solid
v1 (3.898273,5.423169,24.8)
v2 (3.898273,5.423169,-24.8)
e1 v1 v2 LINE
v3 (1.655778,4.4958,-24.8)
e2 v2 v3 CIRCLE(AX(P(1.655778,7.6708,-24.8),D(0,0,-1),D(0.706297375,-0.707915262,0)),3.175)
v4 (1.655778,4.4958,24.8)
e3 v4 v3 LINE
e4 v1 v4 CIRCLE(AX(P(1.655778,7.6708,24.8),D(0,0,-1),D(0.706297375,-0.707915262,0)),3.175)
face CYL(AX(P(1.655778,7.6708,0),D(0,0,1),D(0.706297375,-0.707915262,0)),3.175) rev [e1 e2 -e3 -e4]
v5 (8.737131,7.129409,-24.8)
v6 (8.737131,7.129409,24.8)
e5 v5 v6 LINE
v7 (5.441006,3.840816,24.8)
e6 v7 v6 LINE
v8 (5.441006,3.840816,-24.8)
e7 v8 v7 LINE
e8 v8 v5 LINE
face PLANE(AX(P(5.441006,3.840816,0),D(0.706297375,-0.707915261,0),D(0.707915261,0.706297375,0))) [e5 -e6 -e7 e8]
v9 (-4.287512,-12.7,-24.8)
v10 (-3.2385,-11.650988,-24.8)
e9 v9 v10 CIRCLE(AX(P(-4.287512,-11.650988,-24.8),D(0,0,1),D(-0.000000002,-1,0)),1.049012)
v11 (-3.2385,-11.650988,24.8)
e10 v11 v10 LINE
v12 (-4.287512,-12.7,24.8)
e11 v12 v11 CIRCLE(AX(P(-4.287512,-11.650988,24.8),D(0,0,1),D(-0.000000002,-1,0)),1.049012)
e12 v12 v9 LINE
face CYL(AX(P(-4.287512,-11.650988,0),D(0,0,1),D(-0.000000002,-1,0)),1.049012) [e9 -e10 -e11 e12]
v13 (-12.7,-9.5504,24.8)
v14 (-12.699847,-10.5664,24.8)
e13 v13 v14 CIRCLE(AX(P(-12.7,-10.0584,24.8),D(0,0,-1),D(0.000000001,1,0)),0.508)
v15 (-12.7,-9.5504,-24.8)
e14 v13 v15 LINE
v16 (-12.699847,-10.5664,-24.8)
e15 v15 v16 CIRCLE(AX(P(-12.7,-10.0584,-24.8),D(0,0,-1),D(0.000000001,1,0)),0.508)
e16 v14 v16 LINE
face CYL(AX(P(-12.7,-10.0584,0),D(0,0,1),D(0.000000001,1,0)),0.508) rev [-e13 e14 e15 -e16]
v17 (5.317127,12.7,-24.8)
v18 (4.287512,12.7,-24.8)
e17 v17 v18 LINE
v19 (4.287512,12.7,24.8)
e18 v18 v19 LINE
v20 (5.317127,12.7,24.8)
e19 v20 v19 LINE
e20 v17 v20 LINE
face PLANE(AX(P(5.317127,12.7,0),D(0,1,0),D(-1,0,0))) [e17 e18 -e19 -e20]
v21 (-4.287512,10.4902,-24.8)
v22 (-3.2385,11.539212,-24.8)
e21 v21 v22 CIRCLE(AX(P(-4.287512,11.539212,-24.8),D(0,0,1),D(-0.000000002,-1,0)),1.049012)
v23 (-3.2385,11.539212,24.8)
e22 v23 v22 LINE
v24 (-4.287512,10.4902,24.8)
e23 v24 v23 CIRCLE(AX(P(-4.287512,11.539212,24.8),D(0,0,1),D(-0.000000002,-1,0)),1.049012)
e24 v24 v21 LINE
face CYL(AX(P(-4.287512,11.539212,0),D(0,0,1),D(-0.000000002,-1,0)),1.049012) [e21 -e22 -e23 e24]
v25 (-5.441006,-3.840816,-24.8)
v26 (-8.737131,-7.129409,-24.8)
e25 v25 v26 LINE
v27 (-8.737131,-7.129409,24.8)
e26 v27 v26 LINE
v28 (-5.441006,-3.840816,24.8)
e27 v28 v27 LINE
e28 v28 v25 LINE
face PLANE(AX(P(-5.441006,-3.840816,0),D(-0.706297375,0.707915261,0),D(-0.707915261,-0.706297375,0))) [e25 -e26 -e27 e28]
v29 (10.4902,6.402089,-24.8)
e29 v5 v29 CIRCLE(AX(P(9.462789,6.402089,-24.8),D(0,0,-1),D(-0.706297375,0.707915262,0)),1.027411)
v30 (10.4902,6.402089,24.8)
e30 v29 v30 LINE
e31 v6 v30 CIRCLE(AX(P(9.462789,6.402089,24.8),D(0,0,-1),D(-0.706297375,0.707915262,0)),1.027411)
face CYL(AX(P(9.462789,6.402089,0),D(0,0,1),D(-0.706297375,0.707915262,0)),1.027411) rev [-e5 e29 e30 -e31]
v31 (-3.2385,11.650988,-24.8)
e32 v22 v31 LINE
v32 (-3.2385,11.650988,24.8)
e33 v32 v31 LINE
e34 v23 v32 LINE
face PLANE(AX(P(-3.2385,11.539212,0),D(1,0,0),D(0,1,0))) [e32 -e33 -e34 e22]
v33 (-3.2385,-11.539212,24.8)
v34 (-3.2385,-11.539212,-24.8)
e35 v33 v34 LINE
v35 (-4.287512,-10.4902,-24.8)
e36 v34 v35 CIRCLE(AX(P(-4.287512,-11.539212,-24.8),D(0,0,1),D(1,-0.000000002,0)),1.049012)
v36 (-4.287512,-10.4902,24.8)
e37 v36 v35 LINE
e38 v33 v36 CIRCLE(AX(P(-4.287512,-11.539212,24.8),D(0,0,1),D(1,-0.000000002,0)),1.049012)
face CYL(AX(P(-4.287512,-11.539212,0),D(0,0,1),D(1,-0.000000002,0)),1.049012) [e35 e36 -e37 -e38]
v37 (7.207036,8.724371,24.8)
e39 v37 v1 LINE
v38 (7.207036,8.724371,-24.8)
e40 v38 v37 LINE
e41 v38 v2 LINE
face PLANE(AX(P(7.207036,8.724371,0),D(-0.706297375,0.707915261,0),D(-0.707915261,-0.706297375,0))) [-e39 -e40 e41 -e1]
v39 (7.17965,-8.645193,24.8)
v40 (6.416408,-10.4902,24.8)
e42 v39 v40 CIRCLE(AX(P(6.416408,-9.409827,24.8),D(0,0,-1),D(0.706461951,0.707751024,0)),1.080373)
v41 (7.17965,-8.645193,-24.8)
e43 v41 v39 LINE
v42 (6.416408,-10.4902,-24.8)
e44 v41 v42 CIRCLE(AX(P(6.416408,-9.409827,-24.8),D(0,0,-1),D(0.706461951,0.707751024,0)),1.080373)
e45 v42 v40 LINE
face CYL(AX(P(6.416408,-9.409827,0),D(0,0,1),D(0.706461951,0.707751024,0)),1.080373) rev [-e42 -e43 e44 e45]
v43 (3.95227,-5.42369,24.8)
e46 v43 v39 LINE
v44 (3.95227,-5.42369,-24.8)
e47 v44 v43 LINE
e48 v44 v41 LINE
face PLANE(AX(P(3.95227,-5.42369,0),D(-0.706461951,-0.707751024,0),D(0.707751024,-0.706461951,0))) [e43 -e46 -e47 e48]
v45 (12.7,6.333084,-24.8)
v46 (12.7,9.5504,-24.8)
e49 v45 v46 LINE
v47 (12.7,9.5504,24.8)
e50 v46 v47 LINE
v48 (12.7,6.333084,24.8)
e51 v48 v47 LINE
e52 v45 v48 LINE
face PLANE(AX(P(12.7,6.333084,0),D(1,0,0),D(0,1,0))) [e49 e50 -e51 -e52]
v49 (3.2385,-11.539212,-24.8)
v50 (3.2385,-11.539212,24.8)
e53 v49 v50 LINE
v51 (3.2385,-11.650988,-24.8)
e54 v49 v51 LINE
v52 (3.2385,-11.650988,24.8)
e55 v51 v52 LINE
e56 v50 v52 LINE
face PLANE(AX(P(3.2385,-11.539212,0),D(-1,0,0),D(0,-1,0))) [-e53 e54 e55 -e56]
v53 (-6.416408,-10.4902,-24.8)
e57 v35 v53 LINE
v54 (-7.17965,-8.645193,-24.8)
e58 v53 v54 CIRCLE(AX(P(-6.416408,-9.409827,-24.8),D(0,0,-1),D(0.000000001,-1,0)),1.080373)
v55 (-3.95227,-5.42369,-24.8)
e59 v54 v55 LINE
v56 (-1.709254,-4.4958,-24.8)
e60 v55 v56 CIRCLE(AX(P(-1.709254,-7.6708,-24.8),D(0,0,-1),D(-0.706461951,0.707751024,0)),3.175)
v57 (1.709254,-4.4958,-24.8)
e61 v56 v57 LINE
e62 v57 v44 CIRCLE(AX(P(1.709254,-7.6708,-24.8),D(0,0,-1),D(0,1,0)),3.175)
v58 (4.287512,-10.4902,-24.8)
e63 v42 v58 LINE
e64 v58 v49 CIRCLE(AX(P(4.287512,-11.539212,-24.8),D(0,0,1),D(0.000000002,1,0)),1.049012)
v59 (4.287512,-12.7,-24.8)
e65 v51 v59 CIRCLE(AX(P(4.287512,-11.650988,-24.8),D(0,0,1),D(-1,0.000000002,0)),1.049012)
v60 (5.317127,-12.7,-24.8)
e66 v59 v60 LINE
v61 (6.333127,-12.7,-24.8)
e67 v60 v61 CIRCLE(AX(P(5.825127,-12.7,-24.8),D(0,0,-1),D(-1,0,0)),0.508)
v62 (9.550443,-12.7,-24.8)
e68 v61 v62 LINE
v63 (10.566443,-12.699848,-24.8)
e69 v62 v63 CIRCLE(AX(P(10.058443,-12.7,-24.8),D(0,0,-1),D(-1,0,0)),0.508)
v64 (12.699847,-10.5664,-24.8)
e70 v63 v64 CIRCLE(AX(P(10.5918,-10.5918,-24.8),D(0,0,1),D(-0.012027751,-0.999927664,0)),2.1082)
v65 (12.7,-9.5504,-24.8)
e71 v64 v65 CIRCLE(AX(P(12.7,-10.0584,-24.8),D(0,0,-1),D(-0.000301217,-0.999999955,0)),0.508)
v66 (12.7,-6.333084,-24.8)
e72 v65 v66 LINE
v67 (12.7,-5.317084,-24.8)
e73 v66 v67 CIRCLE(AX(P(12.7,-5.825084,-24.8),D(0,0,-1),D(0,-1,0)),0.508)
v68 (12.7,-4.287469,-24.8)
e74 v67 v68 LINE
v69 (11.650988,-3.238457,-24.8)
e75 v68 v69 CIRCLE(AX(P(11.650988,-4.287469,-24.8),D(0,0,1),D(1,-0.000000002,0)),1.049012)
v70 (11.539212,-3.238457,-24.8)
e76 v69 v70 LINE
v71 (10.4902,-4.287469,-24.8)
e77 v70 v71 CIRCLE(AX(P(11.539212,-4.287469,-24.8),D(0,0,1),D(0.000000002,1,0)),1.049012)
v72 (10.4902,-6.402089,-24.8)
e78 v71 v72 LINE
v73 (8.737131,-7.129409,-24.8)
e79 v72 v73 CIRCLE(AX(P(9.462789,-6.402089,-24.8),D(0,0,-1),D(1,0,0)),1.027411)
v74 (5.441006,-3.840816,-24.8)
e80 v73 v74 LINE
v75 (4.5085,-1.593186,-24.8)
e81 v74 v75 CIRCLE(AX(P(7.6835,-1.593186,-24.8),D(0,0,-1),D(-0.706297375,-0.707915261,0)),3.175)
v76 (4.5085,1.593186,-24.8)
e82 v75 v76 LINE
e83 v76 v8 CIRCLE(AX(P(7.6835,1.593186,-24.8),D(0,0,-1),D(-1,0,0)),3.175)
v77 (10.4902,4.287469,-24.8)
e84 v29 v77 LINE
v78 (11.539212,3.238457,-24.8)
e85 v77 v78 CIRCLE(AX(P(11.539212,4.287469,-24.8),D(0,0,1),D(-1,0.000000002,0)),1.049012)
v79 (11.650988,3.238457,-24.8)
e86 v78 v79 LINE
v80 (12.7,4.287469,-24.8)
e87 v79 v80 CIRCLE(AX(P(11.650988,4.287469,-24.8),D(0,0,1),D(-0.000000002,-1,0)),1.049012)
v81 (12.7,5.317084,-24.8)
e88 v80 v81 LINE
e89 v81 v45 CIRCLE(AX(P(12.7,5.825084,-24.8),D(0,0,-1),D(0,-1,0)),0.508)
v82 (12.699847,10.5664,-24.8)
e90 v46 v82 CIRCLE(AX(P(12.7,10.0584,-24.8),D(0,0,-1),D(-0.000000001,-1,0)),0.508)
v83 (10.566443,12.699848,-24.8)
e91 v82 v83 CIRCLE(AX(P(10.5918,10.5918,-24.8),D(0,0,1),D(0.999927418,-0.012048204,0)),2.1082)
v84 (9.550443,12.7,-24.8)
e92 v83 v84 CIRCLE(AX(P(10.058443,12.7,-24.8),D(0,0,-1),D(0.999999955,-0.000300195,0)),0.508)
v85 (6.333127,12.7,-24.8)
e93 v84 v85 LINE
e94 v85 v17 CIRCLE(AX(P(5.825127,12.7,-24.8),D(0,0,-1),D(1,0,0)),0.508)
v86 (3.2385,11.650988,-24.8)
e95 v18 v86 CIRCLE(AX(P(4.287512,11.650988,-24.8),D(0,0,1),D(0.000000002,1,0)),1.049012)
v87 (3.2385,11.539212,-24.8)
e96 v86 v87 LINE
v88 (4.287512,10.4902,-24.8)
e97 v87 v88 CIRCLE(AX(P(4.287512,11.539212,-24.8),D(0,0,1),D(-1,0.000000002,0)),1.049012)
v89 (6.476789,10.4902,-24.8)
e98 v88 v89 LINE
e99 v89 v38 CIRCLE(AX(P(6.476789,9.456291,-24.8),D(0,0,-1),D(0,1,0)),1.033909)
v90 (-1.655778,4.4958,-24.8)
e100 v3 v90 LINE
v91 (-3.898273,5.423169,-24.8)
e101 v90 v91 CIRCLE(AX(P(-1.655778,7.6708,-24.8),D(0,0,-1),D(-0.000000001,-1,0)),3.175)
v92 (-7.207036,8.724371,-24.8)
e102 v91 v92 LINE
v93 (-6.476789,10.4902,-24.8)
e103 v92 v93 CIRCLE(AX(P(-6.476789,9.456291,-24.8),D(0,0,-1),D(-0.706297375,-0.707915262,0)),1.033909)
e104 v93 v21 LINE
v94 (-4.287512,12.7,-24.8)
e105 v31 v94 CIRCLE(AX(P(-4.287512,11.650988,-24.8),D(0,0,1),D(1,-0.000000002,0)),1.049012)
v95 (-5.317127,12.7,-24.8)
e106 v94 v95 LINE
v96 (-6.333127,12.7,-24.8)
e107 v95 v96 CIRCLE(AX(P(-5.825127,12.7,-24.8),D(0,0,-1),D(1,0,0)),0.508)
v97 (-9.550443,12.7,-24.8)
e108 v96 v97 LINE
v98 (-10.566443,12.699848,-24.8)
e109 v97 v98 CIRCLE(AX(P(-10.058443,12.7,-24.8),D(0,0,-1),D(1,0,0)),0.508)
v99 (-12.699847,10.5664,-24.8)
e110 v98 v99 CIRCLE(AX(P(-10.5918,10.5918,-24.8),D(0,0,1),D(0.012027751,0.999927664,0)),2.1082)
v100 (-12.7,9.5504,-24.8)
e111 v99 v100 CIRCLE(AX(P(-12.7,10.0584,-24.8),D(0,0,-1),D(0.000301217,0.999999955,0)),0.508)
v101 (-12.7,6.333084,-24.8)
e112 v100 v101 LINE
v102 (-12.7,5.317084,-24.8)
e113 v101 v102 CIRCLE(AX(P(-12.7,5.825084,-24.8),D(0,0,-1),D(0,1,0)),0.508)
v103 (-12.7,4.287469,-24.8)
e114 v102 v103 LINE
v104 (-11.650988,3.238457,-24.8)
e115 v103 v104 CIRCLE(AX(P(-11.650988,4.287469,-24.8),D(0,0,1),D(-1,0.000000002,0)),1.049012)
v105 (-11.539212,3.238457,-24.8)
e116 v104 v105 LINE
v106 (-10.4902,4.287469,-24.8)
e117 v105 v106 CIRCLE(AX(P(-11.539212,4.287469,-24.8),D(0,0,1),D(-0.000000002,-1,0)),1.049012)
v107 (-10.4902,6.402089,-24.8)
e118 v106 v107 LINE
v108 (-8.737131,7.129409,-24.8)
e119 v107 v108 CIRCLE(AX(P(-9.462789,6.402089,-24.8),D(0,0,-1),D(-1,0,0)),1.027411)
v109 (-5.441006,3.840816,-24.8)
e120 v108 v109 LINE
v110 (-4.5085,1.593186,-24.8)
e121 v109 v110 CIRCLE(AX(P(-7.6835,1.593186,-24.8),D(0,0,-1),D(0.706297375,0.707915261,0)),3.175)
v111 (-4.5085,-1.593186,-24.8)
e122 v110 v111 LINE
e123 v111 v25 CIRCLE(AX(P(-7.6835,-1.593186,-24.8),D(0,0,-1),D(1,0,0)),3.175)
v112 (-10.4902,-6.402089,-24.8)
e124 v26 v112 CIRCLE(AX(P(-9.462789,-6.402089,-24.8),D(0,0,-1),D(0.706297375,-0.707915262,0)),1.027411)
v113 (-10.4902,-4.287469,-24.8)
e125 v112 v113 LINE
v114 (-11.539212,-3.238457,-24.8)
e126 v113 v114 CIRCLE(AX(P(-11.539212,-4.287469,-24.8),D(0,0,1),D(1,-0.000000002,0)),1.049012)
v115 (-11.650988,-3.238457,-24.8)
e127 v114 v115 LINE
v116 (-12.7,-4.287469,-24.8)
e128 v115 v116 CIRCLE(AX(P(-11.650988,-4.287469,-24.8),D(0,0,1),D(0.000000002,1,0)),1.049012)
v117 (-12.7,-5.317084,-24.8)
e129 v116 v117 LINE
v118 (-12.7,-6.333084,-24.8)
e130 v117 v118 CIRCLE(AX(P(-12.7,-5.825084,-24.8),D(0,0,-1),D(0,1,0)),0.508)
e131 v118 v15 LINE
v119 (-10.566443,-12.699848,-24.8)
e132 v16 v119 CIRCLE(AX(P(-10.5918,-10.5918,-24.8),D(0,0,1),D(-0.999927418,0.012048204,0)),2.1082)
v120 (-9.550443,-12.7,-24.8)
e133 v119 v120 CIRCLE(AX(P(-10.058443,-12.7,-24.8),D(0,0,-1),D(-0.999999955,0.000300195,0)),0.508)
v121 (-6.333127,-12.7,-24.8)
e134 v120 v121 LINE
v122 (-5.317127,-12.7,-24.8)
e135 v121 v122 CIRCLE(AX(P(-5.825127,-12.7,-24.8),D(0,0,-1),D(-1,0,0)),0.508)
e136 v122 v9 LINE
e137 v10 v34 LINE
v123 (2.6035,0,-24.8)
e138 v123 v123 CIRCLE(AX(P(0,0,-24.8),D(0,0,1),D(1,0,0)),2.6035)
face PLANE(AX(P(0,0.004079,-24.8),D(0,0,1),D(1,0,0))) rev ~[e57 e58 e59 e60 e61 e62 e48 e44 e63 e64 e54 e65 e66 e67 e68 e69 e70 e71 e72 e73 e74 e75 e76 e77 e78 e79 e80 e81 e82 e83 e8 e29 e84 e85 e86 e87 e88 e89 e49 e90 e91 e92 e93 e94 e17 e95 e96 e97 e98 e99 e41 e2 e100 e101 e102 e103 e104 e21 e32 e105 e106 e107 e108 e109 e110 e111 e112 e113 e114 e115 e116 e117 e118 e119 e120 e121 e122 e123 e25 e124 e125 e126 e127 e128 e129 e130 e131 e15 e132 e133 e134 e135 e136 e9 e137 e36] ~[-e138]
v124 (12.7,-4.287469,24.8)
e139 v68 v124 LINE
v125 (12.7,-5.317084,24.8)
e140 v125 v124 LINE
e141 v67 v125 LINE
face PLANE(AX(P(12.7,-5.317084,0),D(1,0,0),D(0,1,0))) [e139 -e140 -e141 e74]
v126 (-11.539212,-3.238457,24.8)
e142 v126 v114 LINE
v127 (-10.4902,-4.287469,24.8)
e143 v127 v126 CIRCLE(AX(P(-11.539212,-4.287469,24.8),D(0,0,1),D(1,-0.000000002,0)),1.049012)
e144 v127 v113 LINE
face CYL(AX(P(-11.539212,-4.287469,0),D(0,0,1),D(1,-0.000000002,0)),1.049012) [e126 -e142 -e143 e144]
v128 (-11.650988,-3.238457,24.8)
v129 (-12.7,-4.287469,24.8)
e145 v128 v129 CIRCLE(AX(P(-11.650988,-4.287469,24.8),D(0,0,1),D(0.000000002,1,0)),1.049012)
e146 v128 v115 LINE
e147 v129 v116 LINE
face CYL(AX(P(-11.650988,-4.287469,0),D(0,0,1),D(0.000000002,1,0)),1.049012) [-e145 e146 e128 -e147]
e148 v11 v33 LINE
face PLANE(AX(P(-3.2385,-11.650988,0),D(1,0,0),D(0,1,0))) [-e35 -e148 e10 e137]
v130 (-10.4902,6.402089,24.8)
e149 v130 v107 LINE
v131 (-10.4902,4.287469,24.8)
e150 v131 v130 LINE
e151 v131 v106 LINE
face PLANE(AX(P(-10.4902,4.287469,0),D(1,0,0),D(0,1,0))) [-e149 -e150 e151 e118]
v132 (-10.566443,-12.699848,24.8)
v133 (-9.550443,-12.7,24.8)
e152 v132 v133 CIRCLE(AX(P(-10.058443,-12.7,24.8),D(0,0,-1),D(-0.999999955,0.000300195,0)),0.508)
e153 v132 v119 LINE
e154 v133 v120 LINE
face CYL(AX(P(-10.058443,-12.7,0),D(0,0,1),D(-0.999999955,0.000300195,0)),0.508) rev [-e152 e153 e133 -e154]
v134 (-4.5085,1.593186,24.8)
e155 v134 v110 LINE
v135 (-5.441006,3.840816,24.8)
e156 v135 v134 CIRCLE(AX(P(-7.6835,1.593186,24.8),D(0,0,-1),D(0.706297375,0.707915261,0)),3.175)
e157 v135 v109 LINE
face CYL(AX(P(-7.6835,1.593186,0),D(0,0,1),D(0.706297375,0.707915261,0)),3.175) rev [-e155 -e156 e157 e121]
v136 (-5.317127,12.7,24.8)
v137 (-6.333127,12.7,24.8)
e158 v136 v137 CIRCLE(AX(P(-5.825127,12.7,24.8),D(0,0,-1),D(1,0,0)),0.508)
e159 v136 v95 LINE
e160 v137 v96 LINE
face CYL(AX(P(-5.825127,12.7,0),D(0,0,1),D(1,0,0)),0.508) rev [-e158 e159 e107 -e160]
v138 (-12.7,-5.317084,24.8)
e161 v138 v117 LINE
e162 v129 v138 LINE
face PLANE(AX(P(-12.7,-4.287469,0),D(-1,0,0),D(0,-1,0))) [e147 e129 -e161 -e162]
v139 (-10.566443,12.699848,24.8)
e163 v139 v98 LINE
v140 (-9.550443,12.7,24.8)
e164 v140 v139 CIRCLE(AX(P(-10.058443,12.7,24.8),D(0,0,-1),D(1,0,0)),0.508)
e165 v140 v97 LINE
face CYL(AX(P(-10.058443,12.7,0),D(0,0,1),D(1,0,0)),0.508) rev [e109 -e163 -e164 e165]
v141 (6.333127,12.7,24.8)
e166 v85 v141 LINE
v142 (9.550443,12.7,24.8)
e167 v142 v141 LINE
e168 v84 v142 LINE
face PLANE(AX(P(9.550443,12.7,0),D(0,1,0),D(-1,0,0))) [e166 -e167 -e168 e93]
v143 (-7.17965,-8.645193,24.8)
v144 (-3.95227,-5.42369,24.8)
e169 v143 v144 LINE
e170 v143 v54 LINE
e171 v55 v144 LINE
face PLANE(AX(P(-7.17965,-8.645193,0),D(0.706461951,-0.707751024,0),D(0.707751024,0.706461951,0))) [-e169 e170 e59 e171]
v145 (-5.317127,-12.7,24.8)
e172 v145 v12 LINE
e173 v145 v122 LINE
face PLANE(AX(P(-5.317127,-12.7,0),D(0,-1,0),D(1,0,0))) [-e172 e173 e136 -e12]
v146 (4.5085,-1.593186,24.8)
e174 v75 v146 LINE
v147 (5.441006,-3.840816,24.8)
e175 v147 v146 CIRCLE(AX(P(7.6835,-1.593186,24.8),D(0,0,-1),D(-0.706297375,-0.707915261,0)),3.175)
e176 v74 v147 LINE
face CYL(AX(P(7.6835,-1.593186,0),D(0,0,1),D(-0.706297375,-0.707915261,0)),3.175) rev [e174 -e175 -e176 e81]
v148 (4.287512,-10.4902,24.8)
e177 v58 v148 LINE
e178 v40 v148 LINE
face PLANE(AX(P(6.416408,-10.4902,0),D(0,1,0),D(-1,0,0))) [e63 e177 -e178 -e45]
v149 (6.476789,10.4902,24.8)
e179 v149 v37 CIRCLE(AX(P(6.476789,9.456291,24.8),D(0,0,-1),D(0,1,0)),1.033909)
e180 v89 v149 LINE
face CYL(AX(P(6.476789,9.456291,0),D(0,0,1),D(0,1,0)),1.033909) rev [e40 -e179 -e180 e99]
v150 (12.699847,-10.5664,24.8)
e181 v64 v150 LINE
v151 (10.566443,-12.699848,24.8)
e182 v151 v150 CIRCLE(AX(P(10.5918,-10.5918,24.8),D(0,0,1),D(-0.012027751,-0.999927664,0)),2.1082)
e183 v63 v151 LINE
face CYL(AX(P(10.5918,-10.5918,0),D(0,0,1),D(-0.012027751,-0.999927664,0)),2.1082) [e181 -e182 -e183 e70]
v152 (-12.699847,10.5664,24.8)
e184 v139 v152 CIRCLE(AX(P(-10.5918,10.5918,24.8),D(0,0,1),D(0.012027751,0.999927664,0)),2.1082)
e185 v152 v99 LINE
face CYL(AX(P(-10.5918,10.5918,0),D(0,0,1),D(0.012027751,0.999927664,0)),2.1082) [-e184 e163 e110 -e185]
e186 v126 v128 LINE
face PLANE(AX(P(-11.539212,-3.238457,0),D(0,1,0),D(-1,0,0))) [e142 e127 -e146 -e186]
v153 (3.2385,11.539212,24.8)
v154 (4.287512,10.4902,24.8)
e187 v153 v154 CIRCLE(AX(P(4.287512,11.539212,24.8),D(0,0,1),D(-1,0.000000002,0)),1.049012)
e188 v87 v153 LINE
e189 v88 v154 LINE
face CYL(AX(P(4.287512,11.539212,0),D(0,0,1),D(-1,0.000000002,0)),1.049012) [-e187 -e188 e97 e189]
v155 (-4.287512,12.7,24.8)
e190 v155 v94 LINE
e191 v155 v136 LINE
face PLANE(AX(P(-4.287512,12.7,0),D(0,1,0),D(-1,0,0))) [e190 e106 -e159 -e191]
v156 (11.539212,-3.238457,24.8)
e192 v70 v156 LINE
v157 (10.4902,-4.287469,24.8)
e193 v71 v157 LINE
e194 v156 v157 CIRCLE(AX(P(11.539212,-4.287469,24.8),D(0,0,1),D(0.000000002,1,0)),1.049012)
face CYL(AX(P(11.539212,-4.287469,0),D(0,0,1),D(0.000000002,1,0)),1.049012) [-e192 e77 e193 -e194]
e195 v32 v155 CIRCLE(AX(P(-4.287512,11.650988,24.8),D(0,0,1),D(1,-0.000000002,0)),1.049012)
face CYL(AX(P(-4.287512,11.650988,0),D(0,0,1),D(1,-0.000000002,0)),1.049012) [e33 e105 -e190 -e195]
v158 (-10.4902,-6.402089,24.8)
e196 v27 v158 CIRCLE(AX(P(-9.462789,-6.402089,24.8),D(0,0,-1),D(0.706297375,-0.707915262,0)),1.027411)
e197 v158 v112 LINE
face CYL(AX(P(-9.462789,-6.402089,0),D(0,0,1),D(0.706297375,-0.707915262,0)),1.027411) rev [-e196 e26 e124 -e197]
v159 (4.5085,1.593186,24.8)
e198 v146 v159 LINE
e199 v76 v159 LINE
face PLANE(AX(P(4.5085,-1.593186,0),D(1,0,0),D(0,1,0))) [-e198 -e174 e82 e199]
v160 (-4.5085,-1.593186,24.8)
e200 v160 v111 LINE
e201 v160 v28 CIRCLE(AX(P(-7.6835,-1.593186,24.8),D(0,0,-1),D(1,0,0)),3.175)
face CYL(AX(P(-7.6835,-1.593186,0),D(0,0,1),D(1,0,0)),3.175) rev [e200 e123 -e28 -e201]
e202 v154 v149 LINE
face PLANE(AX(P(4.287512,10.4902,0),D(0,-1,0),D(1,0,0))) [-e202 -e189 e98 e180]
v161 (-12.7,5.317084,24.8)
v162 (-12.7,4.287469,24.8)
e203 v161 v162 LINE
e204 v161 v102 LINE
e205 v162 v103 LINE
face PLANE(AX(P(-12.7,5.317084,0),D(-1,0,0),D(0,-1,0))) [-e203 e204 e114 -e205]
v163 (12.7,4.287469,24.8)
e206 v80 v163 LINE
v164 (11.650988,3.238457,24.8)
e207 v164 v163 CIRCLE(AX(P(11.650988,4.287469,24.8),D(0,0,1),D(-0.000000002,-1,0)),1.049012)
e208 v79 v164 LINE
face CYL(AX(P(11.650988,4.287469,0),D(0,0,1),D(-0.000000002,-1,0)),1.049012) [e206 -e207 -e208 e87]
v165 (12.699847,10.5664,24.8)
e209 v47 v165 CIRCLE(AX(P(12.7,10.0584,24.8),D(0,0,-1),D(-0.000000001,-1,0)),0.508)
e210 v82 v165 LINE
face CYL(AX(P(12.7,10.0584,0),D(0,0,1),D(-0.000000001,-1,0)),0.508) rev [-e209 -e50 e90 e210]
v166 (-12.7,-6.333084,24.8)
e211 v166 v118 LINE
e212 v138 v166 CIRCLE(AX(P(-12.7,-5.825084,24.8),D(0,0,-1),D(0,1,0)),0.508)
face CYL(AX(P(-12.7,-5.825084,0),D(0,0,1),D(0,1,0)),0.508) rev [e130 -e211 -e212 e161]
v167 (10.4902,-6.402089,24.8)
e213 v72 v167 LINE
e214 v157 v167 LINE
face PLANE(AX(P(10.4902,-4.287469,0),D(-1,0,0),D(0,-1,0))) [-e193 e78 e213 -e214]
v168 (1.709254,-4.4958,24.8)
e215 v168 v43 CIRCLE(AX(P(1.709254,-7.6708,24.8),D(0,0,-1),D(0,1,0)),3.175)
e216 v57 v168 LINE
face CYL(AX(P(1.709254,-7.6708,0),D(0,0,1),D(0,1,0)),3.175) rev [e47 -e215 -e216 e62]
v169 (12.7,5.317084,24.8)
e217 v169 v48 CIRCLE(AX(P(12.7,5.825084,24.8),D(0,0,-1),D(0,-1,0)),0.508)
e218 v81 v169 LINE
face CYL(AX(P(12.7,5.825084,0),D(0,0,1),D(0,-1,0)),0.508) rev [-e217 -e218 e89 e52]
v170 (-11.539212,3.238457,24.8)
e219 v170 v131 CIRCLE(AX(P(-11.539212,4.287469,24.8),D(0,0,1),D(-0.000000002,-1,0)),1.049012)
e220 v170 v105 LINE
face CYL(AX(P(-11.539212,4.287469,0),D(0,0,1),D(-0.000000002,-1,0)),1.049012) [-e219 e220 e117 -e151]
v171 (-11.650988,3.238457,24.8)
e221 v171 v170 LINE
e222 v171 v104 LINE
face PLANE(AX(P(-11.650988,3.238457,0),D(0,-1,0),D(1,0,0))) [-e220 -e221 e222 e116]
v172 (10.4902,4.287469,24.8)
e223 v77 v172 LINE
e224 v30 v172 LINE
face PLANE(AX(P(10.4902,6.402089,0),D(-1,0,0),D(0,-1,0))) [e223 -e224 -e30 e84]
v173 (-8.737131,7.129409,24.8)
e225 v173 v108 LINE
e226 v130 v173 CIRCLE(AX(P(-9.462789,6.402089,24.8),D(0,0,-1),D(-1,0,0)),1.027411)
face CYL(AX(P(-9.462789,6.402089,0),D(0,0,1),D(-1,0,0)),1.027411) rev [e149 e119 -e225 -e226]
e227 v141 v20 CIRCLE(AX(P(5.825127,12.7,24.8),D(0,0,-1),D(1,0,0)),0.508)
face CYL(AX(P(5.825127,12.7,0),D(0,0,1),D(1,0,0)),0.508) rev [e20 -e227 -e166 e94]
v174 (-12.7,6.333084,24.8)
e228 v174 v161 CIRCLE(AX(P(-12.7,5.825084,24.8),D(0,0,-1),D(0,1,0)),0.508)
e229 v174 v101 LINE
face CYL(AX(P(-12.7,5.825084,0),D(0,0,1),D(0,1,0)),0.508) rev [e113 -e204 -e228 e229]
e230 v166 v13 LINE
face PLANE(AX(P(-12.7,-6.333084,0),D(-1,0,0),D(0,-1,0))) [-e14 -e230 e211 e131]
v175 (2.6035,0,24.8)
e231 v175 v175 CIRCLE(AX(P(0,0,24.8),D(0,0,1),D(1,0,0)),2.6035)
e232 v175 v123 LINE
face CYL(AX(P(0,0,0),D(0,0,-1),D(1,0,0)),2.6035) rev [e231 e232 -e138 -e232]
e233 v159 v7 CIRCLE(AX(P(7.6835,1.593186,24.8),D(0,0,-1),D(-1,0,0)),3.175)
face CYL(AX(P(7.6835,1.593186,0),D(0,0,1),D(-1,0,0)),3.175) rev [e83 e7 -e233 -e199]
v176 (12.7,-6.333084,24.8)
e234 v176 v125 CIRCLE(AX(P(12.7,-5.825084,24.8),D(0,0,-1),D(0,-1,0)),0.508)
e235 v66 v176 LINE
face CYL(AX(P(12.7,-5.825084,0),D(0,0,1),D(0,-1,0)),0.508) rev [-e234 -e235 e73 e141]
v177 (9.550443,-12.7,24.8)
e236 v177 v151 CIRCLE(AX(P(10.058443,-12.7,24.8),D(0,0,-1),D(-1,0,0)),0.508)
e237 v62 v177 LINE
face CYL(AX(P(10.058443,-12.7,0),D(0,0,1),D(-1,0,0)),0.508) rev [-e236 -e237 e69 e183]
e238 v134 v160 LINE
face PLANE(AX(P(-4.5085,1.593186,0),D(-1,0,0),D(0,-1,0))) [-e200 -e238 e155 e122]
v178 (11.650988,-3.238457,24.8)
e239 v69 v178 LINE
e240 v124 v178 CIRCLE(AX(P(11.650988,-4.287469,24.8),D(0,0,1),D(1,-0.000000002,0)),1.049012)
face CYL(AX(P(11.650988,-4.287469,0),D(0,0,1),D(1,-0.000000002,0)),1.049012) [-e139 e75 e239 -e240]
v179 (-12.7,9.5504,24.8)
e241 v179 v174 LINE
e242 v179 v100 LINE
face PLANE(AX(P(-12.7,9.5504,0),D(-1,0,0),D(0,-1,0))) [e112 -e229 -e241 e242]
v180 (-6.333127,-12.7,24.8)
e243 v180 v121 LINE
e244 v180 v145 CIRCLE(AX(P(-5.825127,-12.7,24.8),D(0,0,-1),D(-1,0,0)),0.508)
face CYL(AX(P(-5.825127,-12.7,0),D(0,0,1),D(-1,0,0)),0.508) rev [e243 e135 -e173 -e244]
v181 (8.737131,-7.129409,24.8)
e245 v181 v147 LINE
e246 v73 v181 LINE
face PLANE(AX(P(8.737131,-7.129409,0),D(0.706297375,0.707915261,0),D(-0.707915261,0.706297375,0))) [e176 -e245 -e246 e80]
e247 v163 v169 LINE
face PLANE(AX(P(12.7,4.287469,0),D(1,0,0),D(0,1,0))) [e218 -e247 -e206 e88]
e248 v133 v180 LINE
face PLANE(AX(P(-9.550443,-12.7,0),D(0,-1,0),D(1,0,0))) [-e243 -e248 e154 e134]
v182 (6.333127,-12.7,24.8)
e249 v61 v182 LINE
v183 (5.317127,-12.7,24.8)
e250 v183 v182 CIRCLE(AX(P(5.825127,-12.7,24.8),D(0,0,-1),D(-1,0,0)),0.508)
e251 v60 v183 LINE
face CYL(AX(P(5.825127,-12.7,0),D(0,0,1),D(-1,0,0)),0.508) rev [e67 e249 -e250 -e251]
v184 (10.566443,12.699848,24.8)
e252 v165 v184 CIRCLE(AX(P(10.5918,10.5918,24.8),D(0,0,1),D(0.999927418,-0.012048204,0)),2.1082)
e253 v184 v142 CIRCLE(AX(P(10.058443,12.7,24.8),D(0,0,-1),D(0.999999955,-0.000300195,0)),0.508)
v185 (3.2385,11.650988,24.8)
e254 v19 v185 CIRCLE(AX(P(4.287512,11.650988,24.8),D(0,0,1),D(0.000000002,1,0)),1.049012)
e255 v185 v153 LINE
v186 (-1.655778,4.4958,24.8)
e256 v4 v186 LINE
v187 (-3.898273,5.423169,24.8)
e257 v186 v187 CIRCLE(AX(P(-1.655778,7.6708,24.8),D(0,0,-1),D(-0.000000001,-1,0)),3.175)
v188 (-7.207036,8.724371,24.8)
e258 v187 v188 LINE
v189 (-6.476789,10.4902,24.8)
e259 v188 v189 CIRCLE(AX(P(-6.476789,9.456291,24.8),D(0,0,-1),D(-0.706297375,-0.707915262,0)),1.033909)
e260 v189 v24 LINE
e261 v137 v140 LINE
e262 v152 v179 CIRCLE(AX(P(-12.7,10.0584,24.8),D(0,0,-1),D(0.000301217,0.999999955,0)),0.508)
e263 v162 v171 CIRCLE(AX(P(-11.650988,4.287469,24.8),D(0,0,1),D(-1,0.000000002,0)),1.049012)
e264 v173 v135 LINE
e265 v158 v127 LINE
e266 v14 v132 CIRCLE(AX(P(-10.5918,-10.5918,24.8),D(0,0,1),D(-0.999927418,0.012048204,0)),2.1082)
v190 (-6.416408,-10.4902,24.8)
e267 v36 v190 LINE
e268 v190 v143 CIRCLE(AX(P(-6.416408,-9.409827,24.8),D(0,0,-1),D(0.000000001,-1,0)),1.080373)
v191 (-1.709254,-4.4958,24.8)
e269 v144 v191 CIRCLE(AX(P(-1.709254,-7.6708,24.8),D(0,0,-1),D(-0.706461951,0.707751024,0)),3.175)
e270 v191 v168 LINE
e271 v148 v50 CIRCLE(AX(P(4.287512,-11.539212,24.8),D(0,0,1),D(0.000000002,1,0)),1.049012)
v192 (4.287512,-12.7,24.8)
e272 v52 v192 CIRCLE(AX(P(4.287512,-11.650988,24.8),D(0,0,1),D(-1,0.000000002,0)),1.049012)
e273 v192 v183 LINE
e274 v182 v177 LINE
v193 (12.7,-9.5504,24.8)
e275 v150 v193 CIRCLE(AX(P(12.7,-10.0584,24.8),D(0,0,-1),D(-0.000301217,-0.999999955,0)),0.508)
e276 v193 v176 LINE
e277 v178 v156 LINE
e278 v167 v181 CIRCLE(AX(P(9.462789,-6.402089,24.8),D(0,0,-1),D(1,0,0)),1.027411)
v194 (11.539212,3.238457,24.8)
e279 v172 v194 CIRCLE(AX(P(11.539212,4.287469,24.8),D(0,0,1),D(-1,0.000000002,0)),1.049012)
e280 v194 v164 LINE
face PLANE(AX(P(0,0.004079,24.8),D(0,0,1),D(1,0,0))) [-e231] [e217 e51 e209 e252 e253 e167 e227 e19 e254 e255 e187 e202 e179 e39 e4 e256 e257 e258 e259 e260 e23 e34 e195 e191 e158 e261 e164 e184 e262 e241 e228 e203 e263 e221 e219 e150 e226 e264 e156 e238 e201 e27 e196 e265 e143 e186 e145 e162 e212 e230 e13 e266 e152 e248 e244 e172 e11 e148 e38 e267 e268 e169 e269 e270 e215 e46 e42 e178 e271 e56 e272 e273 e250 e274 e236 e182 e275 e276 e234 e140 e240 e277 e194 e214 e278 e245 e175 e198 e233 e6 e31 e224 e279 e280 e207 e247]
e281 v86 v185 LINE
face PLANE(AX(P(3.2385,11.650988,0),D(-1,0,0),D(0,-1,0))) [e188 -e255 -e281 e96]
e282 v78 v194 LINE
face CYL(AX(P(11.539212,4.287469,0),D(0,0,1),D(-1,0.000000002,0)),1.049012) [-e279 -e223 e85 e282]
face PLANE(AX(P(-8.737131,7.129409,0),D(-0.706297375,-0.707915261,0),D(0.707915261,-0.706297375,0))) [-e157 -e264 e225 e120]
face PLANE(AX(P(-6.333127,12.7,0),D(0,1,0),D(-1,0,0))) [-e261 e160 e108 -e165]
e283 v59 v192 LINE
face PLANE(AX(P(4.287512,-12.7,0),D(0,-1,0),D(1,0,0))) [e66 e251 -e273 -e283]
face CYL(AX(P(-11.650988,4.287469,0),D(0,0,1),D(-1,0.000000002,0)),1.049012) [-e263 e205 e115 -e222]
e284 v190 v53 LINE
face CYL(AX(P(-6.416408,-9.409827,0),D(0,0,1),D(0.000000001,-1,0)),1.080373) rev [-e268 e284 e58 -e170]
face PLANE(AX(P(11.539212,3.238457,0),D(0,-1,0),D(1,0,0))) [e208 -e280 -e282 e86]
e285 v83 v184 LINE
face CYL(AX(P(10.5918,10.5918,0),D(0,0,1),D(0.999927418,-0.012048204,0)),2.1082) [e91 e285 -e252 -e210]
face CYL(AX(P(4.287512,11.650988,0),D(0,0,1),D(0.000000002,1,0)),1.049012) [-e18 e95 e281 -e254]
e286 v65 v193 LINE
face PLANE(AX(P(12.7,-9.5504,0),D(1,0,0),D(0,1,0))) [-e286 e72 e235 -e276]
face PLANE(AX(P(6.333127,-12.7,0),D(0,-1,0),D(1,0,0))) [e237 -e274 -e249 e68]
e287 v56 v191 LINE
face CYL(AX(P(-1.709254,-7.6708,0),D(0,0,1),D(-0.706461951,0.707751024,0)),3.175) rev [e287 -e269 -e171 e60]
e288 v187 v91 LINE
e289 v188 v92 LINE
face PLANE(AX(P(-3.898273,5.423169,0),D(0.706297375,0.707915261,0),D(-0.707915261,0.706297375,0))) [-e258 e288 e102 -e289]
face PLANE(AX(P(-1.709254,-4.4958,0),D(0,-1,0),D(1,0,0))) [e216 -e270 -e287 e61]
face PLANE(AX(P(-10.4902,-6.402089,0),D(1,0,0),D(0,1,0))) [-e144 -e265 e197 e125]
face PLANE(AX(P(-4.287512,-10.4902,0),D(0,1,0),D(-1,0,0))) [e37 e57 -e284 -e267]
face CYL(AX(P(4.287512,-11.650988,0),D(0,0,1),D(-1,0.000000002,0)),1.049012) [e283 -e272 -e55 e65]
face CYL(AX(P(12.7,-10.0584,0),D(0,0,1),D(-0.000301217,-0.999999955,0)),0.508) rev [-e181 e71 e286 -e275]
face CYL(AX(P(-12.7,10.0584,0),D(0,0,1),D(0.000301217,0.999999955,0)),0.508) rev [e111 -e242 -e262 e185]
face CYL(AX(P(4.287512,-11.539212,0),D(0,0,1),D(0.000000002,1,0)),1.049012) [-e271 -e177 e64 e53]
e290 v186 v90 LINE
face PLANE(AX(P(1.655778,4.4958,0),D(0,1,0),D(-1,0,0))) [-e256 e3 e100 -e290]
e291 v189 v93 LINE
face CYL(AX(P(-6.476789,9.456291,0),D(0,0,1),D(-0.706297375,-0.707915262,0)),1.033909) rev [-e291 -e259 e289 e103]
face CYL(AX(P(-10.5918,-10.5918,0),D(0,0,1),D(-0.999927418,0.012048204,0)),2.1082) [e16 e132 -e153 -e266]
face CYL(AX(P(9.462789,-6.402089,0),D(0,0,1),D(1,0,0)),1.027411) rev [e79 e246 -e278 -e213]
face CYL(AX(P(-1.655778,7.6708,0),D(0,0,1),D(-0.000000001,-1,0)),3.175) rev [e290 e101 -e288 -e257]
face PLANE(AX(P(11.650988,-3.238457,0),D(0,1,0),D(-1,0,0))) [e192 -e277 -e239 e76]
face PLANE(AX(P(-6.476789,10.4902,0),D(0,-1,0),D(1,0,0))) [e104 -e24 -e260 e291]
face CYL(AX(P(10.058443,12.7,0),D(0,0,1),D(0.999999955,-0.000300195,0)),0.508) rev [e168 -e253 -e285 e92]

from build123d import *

# Parameters (mm, degrees)
SKETCH1_R           = 2.6035
BOSS_EXTRUDE1_DEPTH = 24.8


with BuildPart() as part:
    # Sketch1 → Boss-Extrude1 (new body, symmetric)
    with BuildSketch(Plane.XY):
        with BuildLine():
            Line((-7.179650497, -8.645192506), (-3.952270251, -5.423690499))
            ThreePointArc((-3.952270251, -5.423690499), (-2.922936451, -4.736929036), (-1.709253557, -4.4958))
            Line((-1.709253557, -4.4958), (1.709253557, -4.4958))
            ThreePointArc((1.709253557, -4.4958), (2.922936451, -4.736929036), (3.952270251, -5.423690499))
            Line((3.952270251, -5.423690499), (7.179650497, -8.645192506))
            ThreePointArc((7.179650497, -8.645192506), (7.41473083, -9.822813117), (6.416408329, -10.4902))
            Line((6.416408329, -10.4902), (4.287512407, -10.4902))
            ThreePointArc((4.287512407, -10.4902), (3.54574862, -10.79744862), (3.2385, -11.539212407))
            Line((3.2385, -11.539212407), (3.2385, -11.650987593))
            ThreePointArc((3.2385, -11.650987593), (3.54574862, -12.39275138), (4.287512407, -12.7))
            Line((4.287512407, -12.7), (5.317126718, -12.7))
            ThreePointArc((5.317126718, -12.7), (5.825126718, -12.192), (6.333126718, -12.7))
            Line((6.333126718, -12.7), (9.550443118, -12.7))
            ThreePointArc((9.550443118, -12.7), (10.058366869, -12.192000006), (10.566443095, -12.699847501))
            ThreePointArc((10.566443095, -12.699847501), (12.082537762, -12.08250727), (12.699846982, -10.566399977))
            ThreePointArc((12.699846982, -10.566399977), (12.192000006, -10.058323491), (12.7, -9.5504))
            Line((12.7, -9.5504), (12.7, -6.3330836))
            ThreePointArc((12.7, -6.3330836), (12.192, -5.8250836), (12.7, -5.3170836))
            Line((12.7, -5.3170836), (12.7, -4.287469289))
            ThreePointArc((12.7, -4.287469289), (12.39275138, -3.545705502), (11.650987593, -3.238456882))
            Line((11.650987593, -3.238456882), (11.539212407, -3.238456882))
            ThreePointArc((11.539212407, -3.238456882), (10.79744862, -3.545705502), (10.4902, -4.287469289))
            Line((10.4902, -4.287469289), (10.4902, -6.402089023))
            ThreePointArc((10.4902, -6.402089023), (9.856505071, -7.351067942), (8.737131347, -7.129408934))
            Line((8.737131347, -7.129408934), (5.441005833, -3.840816462))
            ThreePointArc((5.441005833, -3.840816462), (4.750877967, -2.809883091), (4.5085, -1.593185507))
            Line((4.5085, -1.593185507), (4.5085, 1.593185507))
            ThreePointArc((4.5085, 1.593185507), (4.750877967, 2.809883091), (5.441005833, 3.840816462))
            Line((5.441005833, 3.840816462), (8.737131347, 7.129408934))
            ThreePointArc((8.737131347, 7.129408934), (9.856505071, 7.351067942), (10.4902, 6.402089023))
            Line((10.4902, 6.402089023), (10.4902, 4.287469289))
            ThreePointArc((10.4902, 4.287469289), (10.79744862, 3.545705502), (11.539212407, 3.238456882))
            Line((11.539212407, 3.238456882), (11.650987593, 3.238456882))
            ThreePointArc((11.650987593, 3.238456882), (12.39275138, 3.545705502), (12.7, 4.287469289))
            Line((12.7, 4.287469289), (12.7, 5.3170836))
            ThreePointArc((12.7, 5.3170836), (12.192, 5.8250836), (12.7, 6.3330836))
            Line((12.7, 6.3330836), (12.7, 9.5504))
            ThreePointArc((12.7, 9.5504), (12.192000006, 10.058323491), (12.699846982, 10.566399977))
            ThreePointArc((12.699846982, 10.566399977), (12.082537762, 12.08250727), (10.566443095, 12.699847501))
            ThreePointArc((10.566443095, 12.699847501), (10.058366869, 12.192000006), (9.550443118, 12.7))
            Line((9.550443118, 12.7), (6.333126718, 12.7))
            ThreePointArc((6.333126718, 12.7), (5.825126718, 12.192), (5.317126718, 12.7))
            Line((5.317126718, 12.7), (4.287512407, 12.7))
            ThreePointArc((4.287512407, 12.7), (3.54574862, 12.39275138), (3.2385, 11.650987593))
            Line((3.2385, 11.650987593), (3.2385, 11.539212407))
            ThreePointArc((3.2385, 11.539212407), (3.54574862, 10.79744862), (4.287512407, 10.4902))
            Line((4.287512407, 10.4902), (6.476788598, 10.4902))
            ThreePointArc((6.476788598, 10.4902), (7.432222385, 9.85140422), (7.207036008, 8.724370562))
            Line((7.207036008, 8.724370562), (3.898272566, 5.423169045))
            ThreePointArc((3.898272566, 5.423169045), (2.869120213, 4.736787962), (1.655778399, 4.4958))
            Line((1.655778399, 4.4958), (-1.655778399, 4.4958))
            ThreePointArc((-1.655778399, 4.4958), (-2.869120213, 4.736787962), (-3.898272566, 5.423169045))
            Line((-3.898272566, 5.423169045), (-7.207036008, 8.724370562))
            ThreePointArc((-7.207036008, 8.724370562), (-7.432222385, 9.85140422), (-6.476788598, 10.4902))
            Line((-6.476788598, 10.4902), (-4.287512407, 10.4902))
            ThreePointArc((-4.287512407, 10.4902), (-3.54574862, 10.79744862), (-3.2385, 11.539212407))
            Line((-3.2385, 11.539212407), (-3.2385, 11.650987593))
            ThreePointArc((-3.2385, 11.650987593), (-3.54574862, 12.39275138), (-4.287512407, 12.7))
            Line((-4.287512407, 12.7), (-5.317126718, 12.7))
            ThreePointArc((-5.317126718, 12.7), (-5.825126718, 12.192), (-6.333126718, 12.7))
            Line((-6.333126718, 12.7), (-9.550443118, 12.7))
            ThreePointArc((-9.550443118, 12.7), (-10.058366869, 12.192000006), (-10.566443095, 12.699847501))
            ThreePointArc((-10.566443095, 12.699847501), (-12.082537762, 12.08250727), (-12.699846982, 10.566399977))
            ThreePointArc((-12.699846982, 10.566399977), (-12.192000006, 10.058323491), (-12.7, 9.5504))
            Line((-12.7, 9.5504), (-12.7, 6.3330836))
            ThreePointArc((-12.7, 6.3330836), (-12.192, 5.8250836), (-12.7, 5.3170836))
            Line((-12.7, 5.3170836), (-12.7, 4.287469289))
            ThreePointArc((-12.7, 4.287469289), (-12.39275138, 3.545705502), (-11.650987593, 3.238456882))
            Line((-11.650987593, 3.238456882), (-11.539212407, 3.238456882))
            ThreePointArc((-11.539212407, 3.238456882), (-10.79744862, 3.545705502), (-10.4902, 4.287469289))
            Line((-10.4902, 4.287469289), (-10.4902, 6.402089023))
            ThreePointArc((-10.4902, 6.402089023), (-9.856505071, 7.351067942), (-8.737131347, 7.129408934))
            Line((-8.737131347, 7.129408934), (-5.441005833, 3.840816462))
            ThreePointArc((-5.441005833, 3.840816462), (-4.750877967, 2.809883091), (-4.5085, 1.593185507))
            Line((-4.5085, 1.593185507), (-4.5085, -1.593185507))
            ThreePointArc((-4.5085, -1.593185507), (-4.750877967, -2.809883091), (-5.441005833, -3.840816462))
            Line((-5.441005833, -3.840816462), (-8.737131347, -7.129408934))
            ThreePointArc((-8.737131347, -7.129408934), (-9.856505071, -7.351067942), (-10.4902, -6.402089023))
            Line((-10.4902, -6.402089023), (-10.4902, -4.287469289))
            ThreePointArc((-10.4902, -4.287469289), (-10.79744862, -3.545705502), (-11.539212407, -3.238456882))
            Line((-11.539212407, -3.238456882), (-11.650987593, -3.238456882))
            ThreePointArc((-11.650987593, -3.238456882), (-12.39275138, -3.545705502), (-12.7, -4.287469289))
            Line((-12.7, -4.287469289), (-12.7, -5.3170836))
            ThreePointArc((-12.7, -5.3170836), (-12.192, -5.8250836), (-12.7, -6.3330836))
            Line((-12.7, -6.3330836), (-12.7, -9.5504))
            ThreePointArc((-12.7, -9.5504), (-12.192000006, -10.058323491), (-12.699846982, -10.566399977))
            ThreePointArc((-12.699846982, -10.566399977), (-12.082537762, -12.08250727), (-10.566443095, -12.699847501))
            ThreePointArc((-10.566443095, -12.699847501), (-10.058366869, -12.192000006), (-9.550443118, -12.7))
            Line((-9.550443118, -12.7), (-6.333126718, -12.7))
            ThreePointArc((-6.333126718, -12.7), (-5.825126718, -12.192), (-5.317126718, -12.7))
            Line((-5.317126718, -12.7), (-4.287512407, -12.7))
            ThreePointArc((-4.287512407, -12.7), (-3.54574862, -12.39275138), (-3.2385, -11.650987593))
            Line((-3.2385, -11.650987593), (-3.2385, -11.539212407))
            ThreePointArc((-3.2385, -11.539212407), (-3.54574862, -10.79744862), (-4.287512407, -10.4902))
            Line((-4.287512407, -10.4902), (-6.416408329, -10.4902))
            ThreePointArc((-6.416408329, -10.4902), (-7.41473083, -9.822813117), (-7.179650497, -8.645192506))
        make_face()
        Circle(SKETCH1_R, mode=Mode.SUBTRACT)
    extrude(amount=BOSS_EXTRUDE1_DEPTH, both=True)


solid = part.part
